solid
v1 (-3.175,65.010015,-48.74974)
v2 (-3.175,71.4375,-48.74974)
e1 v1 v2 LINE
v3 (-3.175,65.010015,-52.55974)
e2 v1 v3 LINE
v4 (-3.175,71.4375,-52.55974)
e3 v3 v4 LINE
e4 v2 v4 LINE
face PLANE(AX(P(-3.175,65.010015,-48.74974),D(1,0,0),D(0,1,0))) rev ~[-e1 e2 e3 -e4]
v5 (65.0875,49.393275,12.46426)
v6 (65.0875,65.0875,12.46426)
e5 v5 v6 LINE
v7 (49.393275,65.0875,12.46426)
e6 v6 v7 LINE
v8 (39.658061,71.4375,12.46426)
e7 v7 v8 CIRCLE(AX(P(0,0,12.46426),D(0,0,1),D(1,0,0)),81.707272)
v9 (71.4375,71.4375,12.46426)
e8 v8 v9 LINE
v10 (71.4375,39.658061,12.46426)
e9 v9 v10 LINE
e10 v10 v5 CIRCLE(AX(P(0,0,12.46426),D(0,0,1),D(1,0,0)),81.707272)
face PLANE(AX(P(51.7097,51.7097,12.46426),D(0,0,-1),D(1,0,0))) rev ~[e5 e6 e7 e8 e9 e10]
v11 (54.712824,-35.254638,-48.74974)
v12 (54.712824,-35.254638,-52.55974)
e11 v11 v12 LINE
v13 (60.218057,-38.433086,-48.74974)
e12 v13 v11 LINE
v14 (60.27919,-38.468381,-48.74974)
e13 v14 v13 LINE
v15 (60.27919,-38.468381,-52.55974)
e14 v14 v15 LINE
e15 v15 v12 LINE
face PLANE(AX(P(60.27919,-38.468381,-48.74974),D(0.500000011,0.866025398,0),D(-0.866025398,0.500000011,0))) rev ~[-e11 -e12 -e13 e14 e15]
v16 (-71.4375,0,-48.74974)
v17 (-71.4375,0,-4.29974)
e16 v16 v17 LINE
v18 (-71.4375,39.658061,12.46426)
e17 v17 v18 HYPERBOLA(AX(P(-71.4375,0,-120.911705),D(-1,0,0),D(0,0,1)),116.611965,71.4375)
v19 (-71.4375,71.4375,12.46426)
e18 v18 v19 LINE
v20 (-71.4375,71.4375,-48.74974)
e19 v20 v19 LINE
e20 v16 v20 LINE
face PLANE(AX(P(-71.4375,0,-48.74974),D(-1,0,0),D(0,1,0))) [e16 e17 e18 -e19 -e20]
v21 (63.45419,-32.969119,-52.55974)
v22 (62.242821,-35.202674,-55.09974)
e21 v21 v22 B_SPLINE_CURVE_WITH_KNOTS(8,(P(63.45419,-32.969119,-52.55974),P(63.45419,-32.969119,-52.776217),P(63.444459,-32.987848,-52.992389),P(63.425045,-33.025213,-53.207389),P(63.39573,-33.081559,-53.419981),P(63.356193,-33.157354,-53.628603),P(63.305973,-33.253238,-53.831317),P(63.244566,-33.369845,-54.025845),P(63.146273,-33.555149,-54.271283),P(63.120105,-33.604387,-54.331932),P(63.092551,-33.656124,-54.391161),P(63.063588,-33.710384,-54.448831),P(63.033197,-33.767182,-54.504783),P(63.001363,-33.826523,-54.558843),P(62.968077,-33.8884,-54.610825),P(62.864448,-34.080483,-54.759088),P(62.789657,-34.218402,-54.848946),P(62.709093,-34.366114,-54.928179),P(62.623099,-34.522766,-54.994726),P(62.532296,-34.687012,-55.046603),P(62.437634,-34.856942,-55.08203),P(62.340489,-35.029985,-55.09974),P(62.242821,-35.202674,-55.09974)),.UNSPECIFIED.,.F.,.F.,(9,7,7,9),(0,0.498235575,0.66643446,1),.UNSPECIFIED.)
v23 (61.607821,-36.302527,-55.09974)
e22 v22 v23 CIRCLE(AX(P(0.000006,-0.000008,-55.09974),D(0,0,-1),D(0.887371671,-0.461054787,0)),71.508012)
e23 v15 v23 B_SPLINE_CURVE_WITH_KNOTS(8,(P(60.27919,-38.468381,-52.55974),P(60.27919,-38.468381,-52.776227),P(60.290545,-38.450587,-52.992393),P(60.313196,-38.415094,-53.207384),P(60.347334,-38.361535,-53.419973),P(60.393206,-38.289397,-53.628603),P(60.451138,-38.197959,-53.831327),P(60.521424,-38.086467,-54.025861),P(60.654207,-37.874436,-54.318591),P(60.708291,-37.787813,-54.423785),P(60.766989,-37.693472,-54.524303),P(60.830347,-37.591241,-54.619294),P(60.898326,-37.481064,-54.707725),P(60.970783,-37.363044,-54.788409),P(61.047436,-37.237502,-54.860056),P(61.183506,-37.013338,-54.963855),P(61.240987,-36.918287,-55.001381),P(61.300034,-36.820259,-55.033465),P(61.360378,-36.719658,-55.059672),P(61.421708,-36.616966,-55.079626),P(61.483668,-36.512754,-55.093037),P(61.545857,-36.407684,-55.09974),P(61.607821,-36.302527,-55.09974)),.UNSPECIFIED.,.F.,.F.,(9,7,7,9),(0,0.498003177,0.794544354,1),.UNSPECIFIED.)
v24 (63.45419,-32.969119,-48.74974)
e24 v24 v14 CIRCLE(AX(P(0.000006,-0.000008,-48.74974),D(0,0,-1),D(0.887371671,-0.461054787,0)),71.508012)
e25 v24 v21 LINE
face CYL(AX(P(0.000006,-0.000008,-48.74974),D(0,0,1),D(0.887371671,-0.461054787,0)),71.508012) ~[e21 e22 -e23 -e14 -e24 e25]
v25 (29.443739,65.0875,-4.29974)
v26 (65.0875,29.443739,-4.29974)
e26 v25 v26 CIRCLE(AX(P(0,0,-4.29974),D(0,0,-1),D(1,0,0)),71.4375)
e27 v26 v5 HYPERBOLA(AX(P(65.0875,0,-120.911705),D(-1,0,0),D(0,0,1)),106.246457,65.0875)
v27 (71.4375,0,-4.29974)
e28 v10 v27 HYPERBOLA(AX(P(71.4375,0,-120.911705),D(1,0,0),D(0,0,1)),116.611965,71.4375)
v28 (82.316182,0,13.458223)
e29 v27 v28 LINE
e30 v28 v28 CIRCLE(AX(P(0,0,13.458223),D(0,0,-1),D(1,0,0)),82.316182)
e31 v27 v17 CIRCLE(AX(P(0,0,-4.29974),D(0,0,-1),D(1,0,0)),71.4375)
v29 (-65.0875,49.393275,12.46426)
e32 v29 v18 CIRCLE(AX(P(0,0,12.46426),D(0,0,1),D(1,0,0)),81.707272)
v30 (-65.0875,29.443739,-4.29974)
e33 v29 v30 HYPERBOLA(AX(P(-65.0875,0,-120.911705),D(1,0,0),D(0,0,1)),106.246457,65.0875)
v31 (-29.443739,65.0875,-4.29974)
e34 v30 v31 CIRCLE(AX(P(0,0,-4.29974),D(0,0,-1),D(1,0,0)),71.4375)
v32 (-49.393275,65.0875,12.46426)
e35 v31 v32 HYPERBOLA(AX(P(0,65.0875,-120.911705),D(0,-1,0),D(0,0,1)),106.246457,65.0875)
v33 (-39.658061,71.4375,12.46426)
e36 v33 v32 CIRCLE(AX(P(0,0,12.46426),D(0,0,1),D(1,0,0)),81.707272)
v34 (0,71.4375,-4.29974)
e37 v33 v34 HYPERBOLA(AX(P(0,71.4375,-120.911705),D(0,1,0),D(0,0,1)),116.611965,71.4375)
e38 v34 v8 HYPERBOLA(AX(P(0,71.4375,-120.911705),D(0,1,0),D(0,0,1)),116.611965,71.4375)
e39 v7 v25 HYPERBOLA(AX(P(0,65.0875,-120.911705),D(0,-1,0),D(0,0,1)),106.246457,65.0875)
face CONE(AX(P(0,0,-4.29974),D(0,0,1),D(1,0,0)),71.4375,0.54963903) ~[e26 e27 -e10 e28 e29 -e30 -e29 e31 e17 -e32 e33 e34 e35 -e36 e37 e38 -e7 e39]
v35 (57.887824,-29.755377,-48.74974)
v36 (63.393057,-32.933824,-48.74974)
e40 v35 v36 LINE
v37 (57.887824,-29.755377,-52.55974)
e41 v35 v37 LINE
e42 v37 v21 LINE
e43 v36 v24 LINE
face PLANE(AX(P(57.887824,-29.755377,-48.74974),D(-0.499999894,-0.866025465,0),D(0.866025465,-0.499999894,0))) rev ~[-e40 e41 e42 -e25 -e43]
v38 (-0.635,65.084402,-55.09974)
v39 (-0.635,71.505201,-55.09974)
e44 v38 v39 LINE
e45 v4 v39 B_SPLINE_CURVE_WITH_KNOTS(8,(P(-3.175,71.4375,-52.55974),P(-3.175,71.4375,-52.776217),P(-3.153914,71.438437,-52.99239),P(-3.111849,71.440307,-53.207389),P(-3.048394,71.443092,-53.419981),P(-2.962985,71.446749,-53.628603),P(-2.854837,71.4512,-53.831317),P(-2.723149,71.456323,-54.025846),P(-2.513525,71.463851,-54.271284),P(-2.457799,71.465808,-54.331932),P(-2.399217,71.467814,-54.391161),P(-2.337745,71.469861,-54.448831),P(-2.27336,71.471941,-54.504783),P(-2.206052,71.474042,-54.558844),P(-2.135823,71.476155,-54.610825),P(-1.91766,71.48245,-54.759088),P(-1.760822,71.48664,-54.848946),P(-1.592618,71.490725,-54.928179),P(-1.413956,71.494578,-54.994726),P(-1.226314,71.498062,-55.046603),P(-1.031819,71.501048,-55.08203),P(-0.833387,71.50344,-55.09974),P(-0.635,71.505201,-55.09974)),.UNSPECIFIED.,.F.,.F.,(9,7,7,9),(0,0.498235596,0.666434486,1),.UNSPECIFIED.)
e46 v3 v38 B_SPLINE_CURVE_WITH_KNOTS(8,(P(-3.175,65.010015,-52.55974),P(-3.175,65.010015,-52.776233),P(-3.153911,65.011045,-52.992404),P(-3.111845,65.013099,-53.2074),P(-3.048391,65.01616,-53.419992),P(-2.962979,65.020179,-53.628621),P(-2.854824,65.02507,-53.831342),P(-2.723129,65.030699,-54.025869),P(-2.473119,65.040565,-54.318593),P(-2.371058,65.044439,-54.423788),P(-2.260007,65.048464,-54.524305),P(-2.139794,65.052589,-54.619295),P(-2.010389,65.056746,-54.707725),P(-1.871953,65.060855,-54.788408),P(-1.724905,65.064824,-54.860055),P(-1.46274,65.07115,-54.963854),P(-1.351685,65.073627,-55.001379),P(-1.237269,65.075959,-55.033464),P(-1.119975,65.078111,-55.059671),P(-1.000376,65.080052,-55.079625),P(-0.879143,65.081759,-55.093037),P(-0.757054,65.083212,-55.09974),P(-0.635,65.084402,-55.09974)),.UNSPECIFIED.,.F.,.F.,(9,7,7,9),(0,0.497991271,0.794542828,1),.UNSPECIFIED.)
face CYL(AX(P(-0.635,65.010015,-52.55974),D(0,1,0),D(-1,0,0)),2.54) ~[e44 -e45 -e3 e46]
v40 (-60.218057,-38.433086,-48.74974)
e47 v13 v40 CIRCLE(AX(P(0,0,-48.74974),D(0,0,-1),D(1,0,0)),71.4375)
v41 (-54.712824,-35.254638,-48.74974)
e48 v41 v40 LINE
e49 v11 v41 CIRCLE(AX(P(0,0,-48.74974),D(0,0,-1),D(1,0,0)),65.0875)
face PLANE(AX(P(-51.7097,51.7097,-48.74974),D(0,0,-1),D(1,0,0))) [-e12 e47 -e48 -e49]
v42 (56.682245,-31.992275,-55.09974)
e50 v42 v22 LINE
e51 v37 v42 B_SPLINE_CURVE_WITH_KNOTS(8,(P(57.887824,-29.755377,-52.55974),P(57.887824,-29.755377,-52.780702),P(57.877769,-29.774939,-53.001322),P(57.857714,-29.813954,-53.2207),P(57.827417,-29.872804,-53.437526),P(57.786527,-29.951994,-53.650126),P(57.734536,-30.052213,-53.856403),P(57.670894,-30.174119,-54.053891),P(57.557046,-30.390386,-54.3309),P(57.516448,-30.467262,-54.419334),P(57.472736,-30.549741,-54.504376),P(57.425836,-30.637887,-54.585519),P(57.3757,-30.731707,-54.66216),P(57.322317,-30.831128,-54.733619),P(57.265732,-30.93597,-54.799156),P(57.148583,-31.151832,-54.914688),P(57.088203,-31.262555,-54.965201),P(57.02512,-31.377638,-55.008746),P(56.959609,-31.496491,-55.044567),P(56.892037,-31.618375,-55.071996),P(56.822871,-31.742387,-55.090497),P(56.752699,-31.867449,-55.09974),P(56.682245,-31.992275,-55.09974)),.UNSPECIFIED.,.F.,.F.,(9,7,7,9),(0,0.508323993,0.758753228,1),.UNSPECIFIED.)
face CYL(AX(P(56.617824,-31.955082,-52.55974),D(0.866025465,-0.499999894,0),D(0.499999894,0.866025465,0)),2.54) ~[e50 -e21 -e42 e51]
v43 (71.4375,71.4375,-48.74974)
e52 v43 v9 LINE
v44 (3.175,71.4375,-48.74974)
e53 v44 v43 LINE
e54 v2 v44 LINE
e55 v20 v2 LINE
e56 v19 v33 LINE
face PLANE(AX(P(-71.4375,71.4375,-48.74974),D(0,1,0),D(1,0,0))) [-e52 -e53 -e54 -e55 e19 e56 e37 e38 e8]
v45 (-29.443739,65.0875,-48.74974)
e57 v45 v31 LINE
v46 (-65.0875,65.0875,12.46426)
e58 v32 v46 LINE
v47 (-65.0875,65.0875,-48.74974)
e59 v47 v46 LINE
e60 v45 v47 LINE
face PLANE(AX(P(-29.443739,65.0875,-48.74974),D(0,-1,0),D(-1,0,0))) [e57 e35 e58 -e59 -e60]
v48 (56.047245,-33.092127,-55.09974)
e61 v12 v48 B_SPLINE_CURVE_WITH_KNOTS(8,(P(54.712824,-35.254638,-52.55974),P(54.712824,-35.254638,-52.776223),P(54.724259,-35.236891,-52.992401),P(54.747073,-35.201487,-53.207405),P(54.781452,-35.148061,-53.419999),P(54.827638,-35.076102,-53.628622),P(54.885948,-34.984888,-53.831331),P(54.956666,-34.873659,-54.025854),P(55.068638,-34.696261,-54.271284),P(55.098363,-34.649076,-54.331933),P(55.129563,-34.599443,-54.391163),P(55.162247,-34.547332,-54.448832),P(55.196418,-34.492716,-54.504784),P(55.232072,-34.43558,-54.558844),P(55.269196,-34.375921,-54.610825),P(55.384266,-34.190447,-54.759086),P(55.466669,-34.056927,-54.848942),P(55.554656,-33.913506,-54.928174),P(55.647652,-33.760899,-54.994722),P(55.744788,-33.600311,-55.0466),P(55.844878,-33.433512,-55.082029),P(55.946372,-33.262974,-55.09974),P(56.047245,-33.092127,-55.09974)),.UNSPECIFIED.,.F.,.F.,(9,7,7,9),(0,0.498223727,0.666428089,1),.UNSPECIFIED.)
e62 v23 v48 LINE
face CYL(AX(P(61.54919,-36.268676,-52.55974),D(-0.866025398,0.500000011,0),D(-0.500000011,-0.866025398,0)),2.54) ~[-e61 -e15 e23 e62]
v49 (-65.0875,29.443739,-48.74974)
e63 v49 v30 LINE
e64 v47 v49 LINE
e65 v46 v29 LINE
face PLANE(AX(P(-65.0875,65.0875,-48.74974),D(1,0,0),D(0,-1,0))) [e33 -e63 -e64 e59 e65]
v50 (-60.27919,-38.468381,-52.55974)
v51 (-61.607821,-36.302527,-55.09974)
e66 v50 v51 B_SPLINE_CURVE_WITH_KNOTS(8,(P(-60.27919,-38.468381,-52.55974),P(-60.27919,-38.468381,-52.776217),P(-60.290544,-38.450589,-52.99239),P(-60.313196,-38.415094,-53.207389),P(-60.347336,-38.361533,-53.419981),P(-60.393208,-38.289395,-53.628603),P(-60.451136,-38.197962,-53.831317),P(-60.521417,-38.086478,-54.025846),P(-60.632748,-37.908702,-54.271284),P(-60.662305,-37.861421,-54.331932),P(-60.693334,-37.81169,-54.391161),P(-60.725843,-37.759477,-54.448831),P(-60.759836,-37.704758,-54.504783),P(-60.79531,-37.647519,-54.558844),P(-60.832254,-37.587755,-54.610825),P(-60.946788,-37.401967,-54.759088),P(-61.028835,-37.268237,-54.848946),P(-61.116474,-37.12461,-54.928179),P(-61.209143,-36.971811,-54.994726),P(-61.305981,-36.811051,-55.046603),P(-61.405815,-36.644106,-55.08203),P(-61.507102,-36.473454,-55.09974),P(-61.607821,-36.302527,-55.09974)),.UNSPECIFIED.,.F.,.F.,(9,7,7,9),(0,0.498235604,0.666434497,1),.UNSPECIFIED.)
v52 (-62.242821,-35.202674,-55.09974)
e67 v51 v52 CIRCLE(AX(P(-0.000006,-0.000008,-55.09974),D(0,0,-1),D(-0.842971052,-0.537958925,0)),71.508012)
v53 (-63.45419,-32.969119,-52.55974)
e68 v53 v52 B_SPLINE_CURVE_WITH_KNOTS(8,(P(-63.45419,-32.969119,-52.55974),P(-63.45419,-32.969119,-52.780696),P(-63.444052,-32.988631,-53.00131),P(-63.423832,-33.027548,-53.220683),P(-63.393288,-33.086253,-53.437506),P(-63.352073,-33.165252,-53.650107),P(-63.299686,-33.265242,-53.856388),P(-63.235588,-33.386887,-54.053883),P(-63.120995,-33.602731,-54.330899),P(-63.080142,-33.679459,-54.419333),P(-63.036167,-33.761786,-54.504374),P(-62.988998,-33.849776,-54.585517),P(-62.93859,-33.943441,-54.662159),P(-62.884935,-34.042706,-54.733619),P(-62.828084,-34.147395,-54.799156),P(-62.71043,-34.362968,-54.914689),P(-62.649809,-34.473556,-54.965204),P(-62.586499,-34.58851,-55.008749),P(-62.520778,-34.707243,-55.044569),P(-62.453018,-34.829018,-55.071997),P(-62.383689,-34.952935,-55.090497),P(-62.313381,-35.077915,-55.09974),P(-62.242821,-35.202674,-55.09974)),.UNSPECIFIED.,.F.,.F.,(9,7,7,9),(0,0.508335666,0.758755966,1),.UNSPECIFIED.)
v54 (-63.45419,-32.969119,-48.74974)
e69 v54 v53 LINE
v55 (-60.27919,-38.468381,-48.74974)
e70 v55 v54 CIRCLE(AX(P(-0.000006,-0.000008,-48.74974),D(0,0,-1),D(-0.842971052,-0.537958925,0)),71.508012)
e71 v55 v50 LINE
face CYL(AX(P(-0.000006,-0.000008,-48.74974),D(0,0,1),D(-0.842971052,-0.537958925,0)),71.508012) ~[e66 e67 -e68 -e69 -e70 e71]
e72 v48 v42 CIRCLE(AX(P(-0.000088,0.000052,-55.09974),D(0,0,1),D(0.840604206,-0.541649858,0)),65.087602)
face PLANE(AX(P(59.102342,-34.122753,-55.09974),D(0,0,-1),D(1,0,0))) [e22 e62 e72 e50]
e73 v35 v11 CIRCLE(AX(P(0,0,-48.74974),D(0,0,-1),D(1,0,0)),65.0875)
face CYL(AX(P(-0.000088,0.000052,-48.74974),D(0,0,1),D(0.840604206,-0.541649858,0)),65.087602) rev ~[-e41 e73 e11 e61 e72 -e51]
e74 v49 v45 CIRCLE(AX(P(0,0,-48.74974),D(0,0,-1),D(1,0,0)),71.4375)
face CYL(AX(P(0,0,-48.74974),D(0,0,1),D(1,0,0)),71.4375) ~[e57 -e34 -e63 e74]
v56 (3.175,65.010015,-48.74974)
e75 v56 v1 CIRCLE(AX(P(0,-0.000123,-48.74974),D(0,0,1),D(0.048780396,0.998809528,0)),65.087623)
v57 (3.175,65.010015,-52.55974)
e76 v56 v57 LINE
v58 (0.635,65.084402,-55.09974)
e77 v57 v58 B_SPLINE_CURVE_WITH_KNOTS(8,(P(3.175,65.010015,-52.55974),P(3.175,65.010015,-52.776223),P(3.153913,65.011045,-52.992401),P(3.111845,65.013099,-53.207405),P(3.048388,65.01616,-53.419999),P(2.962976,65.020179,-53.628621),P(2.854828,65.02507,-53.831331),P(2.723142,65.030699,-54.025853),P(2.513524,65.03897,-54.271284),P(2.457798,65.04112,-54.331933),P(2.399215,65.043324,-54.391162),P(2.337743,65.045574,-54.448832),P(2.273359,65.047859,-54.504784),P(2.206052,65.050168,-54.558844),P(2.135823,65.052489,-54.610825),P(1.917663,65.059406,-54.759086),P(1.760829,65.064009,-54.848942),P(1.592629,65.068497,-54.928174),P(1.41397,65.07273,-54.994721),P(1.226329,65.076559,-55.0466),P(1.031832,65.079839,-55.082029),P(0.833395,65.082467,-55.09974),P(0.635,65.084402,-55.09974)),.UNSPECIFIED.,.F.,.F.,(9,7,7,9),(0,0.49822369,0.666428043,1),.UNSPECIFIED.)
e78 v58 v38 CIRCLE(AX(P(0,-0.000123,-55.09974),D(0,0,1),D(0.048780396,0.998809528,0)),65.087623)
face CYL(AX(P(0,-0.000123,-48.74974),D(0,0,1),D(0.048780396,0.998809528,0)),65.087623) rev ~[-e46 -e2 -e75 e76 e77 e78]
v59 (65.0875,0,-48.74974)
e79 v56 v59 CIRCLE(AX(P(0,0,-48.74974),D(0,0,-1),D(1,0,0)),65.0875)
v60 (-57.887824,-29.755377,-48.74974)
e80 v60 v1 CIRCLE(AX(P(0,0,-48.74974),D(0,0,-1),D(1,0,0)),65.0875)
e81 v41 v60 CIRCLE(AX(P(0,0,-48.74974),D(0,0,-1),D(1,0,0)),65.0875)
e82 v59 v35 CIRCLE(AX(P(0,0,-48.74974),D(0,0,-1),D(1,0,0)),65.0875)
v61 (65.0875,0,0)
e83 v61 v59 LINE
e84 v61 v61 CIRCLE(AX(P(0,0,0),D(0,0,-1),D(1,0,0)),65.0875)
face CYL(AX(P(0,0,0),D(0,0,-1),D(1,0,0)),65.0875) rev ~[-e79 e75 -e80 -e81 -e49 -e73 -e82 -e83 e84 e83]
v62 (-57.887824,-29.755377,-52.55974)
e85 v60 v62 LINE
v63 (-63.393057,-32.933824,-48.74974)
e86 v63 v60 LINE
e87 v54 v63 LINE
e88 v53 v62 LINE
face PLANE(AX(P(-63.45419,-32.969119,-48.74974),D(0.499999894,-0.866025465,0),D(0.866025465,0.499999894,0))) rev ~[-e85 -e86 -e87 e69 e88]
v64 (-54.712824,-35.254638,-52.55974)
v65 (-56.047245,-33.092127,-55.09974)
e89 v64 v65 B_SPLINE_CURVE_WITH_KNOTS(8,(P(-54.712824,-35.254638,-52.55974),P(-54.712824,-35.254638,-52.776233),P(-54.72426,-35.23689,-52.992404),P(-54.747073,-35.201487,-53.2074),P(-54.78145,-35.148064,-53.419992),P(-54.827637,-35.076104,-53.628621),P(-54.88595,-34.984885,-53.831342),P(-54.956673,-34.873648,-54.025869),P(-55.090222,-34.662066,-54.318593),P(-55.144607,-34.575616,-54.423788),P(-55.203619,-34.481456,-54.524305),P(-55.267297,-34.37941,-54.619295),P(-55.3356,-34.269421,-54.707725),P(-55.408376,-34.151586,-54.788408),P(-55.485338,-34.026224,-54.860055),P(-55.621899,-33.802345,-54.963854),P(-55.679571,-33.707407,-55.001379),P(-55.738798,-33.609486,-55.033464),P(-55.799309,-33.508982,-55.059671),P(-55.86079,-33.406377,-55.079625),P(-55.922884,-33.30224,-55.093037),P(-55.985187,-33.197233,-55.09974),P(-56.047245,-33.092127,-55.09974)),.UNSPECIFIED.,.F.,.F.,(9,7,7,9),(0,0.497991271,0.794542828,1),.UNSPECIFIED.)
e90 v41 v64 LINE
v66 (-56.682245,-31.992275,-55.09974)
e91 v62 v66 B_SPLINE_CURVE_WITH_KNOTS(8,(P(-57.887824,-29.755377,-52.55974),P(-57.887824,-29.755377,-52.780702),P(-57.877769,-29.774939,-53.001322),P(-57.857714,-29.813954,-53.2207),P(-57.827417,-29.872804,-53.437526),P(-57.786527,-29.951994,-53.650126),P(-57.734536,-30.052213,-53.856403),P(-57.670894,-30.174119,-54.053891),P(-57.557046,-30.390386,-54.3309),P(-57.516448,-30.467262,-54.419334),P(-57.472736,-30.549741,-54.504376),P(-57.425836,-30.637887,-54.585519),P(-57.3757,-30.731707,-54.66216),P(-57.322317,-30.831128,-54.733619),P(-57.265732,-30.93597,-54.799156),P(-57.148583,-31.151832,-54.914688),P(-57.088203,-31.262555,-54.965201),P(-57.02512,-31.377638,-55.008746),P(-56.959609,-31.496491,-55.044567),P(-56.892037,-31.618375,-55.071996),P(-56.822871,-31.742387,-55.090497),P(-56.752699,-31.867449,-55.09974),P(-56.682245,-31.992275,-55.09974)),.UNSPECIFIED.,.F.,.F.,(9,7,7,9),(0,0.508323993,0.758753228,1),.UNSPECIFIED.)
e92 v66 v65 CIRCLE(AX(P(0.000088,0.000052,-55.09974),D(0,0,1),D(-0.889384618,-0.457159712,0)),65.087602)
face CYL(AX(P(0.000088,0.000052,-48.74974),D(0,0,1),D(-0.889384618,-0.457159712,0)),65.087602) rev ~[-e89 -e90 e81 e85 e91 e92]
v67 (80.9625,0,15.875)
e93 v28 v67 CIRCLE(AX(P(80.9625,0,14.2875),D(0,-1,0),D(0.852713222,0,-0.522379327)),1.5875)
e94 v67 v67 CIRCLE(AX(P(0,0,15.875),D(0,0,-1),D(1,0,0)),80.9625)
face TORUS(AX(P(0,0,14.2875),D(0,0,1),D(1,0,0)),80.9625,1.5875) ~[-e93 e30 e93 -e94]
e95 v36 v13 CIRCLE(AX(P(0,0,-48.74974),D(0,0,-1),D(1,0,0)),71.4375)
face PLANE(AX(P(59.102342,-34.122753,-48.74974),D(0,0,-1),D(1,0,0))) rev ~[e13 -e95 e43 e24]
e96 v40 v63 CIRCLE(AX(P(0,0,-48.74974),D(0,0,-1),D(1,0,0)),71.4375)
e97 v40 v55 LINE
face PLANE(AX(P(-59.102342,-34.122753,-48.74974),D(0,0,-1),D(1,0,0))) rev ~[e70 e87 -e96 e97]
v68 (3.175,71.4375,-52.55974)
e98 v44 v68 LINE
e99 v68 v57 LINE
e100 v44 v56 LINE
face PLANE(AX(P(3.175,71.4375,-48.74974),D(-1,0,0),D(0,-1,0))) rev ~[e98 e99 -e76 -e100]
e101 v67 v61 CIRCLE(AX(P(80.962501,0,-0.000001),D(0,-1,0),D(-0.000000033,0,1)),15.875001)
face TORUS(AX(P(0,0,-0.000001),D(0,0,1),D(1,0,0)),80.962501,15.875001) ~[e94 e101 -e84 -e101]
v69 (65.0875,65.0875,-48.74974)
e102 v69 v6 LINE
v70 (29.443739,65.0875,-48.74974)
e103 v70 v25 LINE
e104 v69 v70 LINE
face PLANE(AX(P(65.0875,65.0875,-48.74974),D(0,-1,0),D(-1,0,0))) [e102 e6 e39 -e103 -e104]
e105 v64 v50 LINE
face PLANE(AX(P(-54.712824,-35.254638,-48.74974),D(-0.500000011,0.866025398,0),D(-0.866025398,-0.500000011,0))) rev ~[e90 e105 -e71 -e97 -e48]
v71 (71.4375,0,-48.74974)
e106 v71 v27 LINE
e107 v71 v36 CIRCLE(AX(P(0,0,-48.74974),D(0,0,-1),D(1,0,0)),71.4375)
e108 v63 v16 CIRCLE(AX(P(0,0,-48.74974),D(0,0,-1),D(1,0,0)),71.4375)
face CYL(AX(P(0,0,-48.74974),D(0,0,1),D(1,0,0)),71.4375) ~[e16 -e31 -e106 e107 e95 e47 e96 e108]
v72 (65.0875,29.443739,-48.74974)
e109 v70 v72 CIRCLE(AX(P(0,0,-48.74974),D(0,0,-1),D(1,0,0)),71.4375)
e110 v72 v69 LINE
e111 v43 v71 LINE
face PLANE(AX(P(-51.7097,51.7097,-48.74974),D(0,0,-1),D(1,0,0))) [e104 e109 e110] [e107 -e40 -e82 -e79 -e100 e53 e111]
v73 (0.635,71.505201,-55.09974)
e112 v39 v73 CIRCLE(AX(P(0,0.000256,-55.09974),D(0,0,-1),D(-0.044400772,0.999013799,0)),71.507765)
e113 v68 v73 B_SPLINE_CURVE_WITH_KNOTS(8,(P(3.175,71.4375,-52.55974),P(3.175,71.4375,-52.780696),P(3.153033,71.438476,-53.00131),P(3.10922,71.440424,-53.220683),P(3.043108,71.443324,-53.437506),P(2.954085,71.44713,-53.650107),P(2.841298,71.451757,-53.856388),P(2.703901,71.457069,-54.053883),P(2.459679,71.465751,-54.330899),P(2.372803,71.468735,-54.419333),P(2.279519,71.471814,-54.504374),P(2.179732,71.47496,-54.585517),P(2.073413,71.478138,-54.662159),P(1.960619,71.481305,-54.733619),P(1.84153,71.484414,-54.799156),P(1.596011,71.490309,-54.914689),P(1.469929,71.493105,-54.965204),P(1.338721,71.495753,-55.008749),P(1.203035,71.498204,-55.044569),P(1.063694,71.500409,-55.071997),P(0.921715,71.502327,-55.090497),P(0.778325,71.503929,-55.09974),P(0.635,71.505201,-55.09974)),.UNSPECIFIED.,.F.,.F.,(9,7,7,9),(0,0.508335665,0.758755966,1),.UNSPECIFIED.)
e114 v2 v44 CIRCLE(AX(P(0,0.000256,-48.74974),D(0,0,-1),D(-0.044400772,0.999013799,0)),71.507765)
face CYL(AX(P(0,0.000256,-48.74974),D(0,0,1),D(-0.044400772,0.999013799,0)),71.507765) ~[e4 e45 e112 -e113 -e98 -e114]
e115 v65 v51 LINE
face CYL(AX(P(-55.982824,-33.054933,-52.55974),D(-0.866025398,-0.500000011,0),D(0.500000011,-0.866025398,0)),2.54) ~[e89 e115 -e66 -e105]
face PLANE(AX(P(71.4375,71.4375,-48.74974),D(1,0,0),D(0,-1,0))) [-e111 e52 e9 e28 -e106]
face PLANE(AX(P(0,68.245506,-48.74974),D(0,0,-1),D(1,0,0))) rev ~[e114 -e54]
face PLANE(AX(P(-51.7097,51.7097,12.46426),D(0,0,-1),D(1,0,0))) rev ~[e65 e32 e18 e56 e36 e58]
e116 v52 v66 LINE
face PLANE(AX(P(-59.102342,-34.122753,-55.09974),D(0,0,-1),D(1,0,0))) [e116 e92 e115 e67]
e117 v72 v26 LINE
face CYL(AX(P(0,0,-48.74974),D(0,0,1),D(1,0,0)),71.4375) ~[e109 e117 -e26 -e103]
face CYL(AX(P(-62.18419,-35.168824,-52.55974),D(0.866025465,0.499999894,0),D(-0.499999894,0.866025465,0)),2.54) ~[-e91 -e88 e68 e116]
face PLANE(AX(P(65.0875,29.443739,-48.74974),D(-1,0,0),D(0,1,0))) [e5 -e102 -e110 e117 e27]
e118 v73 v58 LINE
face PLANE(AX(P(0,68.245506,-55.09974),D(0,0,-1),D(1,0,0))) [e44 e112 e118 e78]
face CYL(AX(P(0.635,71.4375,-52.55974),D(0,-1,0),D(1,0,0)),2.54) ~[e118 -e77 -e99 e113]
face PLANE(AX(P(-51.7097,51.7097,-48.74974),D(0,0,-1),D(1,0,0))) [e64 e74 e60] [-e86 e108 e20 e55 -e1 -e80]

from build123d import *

# Parameters (mm, degrees)
F0_W     = 6.35
F0_H     = 6.35
F3_DEPTH = 61.214
F5_DEPTH = 6.35
F6_R     = 2.54


with BuildPart() as f1:
    # F0 (on Front) → F1 (revolve)
    with BuildSketch(Plane.XZ):
        with BuildLine():
            ThreePointArc((82.316182, 13.458223), (82.347533, 15.063283), (80.9625, 15.875))
            ThreePointArc((80.9625, 15.875), (69.73718, 11.22532), (65.0875, 0))
            Line((65.0875, 0), (71.4375, 8.40026))
            ThreePointArc((71.4375, 8.40026), (75.73724, 11.57526), (80.9625, 12.7))
            ThreePointArc((80.9625, 12.7), (81.738283, 12.902467), (82.316182, 13.458223))
        make_face()
        Polygon((71.4375, 8.40026), (65.0875, 0), (65.0875, -42.39974), (71.4375, -42.39974), (71.4375, -4.29974), align=None)
        with Locations((68.2625, -45.57474)):
            Rectangle(F0_W, F0_H)
        with BuildLine():
            Line((71.4375, -4.29974), (82.316182, 13.458223))
            ThreePointArc((82.316182, 13.458223), (81.738283, 12.902467), (80.9625, 12.7))
            ThreePointArc((80.9625, 12.7), (75.73724, 11.57526), (71.4375, 8.40026))
            Line((71.4375, 8.40026), (71.4375, -4.29974))
        make_face()
    revolve(axis=Axis((0, 0, -2.826434), (0, 0, -1)))

    # F2 (on face) → F3 (join)
    with BuildSketch(Plane(origin=(0, 0, -48.74974), x_dir=(1, 0, 0), z_dir=(0, 0, -1))):
        with BuildLine():
            ThreePointArc((-65.0875, -29.443739), (-69.831958, -15.060347), (-71.4375, 0))
            Line((-71.4375, 0), (-71.4375, -71.4375))
            Line((-71.4375, -71.4375), (0, -71.4375))
            ThreePointArc((0, -71.4375), (-15.060347, -69.831958), (-29.443739, -65.0875))
            Line((-29.443739, -65.0875), (-65.0875, -65.0875))
            Line((-65.0875, -65.0875), (-65.0875, -29.443739))
        make_face()
        with BuildLine():
            Line((71.4375, -71.4375), (71.4375, 0))
            ThreePointArc((71.4375, 0), (69.831958, -15.060347), (65.0875, -29.443739))
            Line((65.0875, -29.443739), (65.0875, -65.0875))
            Line((65.0875, -65.0875), (29.443739, -65.0875))
            ThreePointArc((29.443739, -65.0875), (15.060347, -69.831958), (0, -71.4375))
            Line((0, -71.4375), (71.4375, -71.4375))
        make_face()
    extrude(amount=-F3_DEPTH)

    # F4 (on face) → F5 (join)
    with BuildSketch(Plane(origin=(0, 0, -48.74974), x_dir=(1, 0, 0), z_dir=(0, 0, -1))):
        with BuildLine():
            ThreePointArc((3.175, -65.010015), (0, -65.0875), (-3.175, -65.010015))
            Line((-3.175, -65.010015), (-3.175, -71.4375))
            ThreePointArc((-3.175, -71.4375), (0, -71.508021), (3.175, -71.4375))
            Line((3.175, -71.4375), (3.175, -65.010015))
        make_face()
        with BuildLine():
            ThreePointArc((54.712824, 35.254638), (56.367428, 32.54375), (57.887824, 29.755377))
            Line((57.887824, 29.755377), (63.45419, 32.969119))
            ThreePointArc((63.45419, 32.969119), (61.927763, 35.75401), (60.27919, 38.468381))
            Line((60.27919, 38.468381), (54.712824, 35.254638))
        make_face()
        with BuildLine():
            ThreePointArc((-57.887824, 29.755377), (-56.367428, 32.54375), (-54.712824, 35.254638))
            Line((-54.712824, 35.254638), (-60.27919, 38.468381))
            ThreePointArc((-60.27919, 38.468381), (-61.927763, 35.75401), (-63.45419, 32.969119))
            Line((-63.45419, 32.969119), (-57.887824, 29.755377))
        make_face()
    extrude(amount=F5_DEPTH)

    # F6
    f6_edges = [f1.edges().sort_by_distance(p)[0] for p in [
        (57.496007, -36.861509, -55.09974),
        (60.671007, -31.362248, -55.09974),
        (-57.496007, -36.861509, -55.09974),
        (-60.671007, -31.362248, -55.09974),
        (3.175, 68.223757, -55.09974),
        (-3.175, 68.223757, -55.09974),
    ]]
    fillet(f6_edges, radius=F6_R)


solid = f1.part
